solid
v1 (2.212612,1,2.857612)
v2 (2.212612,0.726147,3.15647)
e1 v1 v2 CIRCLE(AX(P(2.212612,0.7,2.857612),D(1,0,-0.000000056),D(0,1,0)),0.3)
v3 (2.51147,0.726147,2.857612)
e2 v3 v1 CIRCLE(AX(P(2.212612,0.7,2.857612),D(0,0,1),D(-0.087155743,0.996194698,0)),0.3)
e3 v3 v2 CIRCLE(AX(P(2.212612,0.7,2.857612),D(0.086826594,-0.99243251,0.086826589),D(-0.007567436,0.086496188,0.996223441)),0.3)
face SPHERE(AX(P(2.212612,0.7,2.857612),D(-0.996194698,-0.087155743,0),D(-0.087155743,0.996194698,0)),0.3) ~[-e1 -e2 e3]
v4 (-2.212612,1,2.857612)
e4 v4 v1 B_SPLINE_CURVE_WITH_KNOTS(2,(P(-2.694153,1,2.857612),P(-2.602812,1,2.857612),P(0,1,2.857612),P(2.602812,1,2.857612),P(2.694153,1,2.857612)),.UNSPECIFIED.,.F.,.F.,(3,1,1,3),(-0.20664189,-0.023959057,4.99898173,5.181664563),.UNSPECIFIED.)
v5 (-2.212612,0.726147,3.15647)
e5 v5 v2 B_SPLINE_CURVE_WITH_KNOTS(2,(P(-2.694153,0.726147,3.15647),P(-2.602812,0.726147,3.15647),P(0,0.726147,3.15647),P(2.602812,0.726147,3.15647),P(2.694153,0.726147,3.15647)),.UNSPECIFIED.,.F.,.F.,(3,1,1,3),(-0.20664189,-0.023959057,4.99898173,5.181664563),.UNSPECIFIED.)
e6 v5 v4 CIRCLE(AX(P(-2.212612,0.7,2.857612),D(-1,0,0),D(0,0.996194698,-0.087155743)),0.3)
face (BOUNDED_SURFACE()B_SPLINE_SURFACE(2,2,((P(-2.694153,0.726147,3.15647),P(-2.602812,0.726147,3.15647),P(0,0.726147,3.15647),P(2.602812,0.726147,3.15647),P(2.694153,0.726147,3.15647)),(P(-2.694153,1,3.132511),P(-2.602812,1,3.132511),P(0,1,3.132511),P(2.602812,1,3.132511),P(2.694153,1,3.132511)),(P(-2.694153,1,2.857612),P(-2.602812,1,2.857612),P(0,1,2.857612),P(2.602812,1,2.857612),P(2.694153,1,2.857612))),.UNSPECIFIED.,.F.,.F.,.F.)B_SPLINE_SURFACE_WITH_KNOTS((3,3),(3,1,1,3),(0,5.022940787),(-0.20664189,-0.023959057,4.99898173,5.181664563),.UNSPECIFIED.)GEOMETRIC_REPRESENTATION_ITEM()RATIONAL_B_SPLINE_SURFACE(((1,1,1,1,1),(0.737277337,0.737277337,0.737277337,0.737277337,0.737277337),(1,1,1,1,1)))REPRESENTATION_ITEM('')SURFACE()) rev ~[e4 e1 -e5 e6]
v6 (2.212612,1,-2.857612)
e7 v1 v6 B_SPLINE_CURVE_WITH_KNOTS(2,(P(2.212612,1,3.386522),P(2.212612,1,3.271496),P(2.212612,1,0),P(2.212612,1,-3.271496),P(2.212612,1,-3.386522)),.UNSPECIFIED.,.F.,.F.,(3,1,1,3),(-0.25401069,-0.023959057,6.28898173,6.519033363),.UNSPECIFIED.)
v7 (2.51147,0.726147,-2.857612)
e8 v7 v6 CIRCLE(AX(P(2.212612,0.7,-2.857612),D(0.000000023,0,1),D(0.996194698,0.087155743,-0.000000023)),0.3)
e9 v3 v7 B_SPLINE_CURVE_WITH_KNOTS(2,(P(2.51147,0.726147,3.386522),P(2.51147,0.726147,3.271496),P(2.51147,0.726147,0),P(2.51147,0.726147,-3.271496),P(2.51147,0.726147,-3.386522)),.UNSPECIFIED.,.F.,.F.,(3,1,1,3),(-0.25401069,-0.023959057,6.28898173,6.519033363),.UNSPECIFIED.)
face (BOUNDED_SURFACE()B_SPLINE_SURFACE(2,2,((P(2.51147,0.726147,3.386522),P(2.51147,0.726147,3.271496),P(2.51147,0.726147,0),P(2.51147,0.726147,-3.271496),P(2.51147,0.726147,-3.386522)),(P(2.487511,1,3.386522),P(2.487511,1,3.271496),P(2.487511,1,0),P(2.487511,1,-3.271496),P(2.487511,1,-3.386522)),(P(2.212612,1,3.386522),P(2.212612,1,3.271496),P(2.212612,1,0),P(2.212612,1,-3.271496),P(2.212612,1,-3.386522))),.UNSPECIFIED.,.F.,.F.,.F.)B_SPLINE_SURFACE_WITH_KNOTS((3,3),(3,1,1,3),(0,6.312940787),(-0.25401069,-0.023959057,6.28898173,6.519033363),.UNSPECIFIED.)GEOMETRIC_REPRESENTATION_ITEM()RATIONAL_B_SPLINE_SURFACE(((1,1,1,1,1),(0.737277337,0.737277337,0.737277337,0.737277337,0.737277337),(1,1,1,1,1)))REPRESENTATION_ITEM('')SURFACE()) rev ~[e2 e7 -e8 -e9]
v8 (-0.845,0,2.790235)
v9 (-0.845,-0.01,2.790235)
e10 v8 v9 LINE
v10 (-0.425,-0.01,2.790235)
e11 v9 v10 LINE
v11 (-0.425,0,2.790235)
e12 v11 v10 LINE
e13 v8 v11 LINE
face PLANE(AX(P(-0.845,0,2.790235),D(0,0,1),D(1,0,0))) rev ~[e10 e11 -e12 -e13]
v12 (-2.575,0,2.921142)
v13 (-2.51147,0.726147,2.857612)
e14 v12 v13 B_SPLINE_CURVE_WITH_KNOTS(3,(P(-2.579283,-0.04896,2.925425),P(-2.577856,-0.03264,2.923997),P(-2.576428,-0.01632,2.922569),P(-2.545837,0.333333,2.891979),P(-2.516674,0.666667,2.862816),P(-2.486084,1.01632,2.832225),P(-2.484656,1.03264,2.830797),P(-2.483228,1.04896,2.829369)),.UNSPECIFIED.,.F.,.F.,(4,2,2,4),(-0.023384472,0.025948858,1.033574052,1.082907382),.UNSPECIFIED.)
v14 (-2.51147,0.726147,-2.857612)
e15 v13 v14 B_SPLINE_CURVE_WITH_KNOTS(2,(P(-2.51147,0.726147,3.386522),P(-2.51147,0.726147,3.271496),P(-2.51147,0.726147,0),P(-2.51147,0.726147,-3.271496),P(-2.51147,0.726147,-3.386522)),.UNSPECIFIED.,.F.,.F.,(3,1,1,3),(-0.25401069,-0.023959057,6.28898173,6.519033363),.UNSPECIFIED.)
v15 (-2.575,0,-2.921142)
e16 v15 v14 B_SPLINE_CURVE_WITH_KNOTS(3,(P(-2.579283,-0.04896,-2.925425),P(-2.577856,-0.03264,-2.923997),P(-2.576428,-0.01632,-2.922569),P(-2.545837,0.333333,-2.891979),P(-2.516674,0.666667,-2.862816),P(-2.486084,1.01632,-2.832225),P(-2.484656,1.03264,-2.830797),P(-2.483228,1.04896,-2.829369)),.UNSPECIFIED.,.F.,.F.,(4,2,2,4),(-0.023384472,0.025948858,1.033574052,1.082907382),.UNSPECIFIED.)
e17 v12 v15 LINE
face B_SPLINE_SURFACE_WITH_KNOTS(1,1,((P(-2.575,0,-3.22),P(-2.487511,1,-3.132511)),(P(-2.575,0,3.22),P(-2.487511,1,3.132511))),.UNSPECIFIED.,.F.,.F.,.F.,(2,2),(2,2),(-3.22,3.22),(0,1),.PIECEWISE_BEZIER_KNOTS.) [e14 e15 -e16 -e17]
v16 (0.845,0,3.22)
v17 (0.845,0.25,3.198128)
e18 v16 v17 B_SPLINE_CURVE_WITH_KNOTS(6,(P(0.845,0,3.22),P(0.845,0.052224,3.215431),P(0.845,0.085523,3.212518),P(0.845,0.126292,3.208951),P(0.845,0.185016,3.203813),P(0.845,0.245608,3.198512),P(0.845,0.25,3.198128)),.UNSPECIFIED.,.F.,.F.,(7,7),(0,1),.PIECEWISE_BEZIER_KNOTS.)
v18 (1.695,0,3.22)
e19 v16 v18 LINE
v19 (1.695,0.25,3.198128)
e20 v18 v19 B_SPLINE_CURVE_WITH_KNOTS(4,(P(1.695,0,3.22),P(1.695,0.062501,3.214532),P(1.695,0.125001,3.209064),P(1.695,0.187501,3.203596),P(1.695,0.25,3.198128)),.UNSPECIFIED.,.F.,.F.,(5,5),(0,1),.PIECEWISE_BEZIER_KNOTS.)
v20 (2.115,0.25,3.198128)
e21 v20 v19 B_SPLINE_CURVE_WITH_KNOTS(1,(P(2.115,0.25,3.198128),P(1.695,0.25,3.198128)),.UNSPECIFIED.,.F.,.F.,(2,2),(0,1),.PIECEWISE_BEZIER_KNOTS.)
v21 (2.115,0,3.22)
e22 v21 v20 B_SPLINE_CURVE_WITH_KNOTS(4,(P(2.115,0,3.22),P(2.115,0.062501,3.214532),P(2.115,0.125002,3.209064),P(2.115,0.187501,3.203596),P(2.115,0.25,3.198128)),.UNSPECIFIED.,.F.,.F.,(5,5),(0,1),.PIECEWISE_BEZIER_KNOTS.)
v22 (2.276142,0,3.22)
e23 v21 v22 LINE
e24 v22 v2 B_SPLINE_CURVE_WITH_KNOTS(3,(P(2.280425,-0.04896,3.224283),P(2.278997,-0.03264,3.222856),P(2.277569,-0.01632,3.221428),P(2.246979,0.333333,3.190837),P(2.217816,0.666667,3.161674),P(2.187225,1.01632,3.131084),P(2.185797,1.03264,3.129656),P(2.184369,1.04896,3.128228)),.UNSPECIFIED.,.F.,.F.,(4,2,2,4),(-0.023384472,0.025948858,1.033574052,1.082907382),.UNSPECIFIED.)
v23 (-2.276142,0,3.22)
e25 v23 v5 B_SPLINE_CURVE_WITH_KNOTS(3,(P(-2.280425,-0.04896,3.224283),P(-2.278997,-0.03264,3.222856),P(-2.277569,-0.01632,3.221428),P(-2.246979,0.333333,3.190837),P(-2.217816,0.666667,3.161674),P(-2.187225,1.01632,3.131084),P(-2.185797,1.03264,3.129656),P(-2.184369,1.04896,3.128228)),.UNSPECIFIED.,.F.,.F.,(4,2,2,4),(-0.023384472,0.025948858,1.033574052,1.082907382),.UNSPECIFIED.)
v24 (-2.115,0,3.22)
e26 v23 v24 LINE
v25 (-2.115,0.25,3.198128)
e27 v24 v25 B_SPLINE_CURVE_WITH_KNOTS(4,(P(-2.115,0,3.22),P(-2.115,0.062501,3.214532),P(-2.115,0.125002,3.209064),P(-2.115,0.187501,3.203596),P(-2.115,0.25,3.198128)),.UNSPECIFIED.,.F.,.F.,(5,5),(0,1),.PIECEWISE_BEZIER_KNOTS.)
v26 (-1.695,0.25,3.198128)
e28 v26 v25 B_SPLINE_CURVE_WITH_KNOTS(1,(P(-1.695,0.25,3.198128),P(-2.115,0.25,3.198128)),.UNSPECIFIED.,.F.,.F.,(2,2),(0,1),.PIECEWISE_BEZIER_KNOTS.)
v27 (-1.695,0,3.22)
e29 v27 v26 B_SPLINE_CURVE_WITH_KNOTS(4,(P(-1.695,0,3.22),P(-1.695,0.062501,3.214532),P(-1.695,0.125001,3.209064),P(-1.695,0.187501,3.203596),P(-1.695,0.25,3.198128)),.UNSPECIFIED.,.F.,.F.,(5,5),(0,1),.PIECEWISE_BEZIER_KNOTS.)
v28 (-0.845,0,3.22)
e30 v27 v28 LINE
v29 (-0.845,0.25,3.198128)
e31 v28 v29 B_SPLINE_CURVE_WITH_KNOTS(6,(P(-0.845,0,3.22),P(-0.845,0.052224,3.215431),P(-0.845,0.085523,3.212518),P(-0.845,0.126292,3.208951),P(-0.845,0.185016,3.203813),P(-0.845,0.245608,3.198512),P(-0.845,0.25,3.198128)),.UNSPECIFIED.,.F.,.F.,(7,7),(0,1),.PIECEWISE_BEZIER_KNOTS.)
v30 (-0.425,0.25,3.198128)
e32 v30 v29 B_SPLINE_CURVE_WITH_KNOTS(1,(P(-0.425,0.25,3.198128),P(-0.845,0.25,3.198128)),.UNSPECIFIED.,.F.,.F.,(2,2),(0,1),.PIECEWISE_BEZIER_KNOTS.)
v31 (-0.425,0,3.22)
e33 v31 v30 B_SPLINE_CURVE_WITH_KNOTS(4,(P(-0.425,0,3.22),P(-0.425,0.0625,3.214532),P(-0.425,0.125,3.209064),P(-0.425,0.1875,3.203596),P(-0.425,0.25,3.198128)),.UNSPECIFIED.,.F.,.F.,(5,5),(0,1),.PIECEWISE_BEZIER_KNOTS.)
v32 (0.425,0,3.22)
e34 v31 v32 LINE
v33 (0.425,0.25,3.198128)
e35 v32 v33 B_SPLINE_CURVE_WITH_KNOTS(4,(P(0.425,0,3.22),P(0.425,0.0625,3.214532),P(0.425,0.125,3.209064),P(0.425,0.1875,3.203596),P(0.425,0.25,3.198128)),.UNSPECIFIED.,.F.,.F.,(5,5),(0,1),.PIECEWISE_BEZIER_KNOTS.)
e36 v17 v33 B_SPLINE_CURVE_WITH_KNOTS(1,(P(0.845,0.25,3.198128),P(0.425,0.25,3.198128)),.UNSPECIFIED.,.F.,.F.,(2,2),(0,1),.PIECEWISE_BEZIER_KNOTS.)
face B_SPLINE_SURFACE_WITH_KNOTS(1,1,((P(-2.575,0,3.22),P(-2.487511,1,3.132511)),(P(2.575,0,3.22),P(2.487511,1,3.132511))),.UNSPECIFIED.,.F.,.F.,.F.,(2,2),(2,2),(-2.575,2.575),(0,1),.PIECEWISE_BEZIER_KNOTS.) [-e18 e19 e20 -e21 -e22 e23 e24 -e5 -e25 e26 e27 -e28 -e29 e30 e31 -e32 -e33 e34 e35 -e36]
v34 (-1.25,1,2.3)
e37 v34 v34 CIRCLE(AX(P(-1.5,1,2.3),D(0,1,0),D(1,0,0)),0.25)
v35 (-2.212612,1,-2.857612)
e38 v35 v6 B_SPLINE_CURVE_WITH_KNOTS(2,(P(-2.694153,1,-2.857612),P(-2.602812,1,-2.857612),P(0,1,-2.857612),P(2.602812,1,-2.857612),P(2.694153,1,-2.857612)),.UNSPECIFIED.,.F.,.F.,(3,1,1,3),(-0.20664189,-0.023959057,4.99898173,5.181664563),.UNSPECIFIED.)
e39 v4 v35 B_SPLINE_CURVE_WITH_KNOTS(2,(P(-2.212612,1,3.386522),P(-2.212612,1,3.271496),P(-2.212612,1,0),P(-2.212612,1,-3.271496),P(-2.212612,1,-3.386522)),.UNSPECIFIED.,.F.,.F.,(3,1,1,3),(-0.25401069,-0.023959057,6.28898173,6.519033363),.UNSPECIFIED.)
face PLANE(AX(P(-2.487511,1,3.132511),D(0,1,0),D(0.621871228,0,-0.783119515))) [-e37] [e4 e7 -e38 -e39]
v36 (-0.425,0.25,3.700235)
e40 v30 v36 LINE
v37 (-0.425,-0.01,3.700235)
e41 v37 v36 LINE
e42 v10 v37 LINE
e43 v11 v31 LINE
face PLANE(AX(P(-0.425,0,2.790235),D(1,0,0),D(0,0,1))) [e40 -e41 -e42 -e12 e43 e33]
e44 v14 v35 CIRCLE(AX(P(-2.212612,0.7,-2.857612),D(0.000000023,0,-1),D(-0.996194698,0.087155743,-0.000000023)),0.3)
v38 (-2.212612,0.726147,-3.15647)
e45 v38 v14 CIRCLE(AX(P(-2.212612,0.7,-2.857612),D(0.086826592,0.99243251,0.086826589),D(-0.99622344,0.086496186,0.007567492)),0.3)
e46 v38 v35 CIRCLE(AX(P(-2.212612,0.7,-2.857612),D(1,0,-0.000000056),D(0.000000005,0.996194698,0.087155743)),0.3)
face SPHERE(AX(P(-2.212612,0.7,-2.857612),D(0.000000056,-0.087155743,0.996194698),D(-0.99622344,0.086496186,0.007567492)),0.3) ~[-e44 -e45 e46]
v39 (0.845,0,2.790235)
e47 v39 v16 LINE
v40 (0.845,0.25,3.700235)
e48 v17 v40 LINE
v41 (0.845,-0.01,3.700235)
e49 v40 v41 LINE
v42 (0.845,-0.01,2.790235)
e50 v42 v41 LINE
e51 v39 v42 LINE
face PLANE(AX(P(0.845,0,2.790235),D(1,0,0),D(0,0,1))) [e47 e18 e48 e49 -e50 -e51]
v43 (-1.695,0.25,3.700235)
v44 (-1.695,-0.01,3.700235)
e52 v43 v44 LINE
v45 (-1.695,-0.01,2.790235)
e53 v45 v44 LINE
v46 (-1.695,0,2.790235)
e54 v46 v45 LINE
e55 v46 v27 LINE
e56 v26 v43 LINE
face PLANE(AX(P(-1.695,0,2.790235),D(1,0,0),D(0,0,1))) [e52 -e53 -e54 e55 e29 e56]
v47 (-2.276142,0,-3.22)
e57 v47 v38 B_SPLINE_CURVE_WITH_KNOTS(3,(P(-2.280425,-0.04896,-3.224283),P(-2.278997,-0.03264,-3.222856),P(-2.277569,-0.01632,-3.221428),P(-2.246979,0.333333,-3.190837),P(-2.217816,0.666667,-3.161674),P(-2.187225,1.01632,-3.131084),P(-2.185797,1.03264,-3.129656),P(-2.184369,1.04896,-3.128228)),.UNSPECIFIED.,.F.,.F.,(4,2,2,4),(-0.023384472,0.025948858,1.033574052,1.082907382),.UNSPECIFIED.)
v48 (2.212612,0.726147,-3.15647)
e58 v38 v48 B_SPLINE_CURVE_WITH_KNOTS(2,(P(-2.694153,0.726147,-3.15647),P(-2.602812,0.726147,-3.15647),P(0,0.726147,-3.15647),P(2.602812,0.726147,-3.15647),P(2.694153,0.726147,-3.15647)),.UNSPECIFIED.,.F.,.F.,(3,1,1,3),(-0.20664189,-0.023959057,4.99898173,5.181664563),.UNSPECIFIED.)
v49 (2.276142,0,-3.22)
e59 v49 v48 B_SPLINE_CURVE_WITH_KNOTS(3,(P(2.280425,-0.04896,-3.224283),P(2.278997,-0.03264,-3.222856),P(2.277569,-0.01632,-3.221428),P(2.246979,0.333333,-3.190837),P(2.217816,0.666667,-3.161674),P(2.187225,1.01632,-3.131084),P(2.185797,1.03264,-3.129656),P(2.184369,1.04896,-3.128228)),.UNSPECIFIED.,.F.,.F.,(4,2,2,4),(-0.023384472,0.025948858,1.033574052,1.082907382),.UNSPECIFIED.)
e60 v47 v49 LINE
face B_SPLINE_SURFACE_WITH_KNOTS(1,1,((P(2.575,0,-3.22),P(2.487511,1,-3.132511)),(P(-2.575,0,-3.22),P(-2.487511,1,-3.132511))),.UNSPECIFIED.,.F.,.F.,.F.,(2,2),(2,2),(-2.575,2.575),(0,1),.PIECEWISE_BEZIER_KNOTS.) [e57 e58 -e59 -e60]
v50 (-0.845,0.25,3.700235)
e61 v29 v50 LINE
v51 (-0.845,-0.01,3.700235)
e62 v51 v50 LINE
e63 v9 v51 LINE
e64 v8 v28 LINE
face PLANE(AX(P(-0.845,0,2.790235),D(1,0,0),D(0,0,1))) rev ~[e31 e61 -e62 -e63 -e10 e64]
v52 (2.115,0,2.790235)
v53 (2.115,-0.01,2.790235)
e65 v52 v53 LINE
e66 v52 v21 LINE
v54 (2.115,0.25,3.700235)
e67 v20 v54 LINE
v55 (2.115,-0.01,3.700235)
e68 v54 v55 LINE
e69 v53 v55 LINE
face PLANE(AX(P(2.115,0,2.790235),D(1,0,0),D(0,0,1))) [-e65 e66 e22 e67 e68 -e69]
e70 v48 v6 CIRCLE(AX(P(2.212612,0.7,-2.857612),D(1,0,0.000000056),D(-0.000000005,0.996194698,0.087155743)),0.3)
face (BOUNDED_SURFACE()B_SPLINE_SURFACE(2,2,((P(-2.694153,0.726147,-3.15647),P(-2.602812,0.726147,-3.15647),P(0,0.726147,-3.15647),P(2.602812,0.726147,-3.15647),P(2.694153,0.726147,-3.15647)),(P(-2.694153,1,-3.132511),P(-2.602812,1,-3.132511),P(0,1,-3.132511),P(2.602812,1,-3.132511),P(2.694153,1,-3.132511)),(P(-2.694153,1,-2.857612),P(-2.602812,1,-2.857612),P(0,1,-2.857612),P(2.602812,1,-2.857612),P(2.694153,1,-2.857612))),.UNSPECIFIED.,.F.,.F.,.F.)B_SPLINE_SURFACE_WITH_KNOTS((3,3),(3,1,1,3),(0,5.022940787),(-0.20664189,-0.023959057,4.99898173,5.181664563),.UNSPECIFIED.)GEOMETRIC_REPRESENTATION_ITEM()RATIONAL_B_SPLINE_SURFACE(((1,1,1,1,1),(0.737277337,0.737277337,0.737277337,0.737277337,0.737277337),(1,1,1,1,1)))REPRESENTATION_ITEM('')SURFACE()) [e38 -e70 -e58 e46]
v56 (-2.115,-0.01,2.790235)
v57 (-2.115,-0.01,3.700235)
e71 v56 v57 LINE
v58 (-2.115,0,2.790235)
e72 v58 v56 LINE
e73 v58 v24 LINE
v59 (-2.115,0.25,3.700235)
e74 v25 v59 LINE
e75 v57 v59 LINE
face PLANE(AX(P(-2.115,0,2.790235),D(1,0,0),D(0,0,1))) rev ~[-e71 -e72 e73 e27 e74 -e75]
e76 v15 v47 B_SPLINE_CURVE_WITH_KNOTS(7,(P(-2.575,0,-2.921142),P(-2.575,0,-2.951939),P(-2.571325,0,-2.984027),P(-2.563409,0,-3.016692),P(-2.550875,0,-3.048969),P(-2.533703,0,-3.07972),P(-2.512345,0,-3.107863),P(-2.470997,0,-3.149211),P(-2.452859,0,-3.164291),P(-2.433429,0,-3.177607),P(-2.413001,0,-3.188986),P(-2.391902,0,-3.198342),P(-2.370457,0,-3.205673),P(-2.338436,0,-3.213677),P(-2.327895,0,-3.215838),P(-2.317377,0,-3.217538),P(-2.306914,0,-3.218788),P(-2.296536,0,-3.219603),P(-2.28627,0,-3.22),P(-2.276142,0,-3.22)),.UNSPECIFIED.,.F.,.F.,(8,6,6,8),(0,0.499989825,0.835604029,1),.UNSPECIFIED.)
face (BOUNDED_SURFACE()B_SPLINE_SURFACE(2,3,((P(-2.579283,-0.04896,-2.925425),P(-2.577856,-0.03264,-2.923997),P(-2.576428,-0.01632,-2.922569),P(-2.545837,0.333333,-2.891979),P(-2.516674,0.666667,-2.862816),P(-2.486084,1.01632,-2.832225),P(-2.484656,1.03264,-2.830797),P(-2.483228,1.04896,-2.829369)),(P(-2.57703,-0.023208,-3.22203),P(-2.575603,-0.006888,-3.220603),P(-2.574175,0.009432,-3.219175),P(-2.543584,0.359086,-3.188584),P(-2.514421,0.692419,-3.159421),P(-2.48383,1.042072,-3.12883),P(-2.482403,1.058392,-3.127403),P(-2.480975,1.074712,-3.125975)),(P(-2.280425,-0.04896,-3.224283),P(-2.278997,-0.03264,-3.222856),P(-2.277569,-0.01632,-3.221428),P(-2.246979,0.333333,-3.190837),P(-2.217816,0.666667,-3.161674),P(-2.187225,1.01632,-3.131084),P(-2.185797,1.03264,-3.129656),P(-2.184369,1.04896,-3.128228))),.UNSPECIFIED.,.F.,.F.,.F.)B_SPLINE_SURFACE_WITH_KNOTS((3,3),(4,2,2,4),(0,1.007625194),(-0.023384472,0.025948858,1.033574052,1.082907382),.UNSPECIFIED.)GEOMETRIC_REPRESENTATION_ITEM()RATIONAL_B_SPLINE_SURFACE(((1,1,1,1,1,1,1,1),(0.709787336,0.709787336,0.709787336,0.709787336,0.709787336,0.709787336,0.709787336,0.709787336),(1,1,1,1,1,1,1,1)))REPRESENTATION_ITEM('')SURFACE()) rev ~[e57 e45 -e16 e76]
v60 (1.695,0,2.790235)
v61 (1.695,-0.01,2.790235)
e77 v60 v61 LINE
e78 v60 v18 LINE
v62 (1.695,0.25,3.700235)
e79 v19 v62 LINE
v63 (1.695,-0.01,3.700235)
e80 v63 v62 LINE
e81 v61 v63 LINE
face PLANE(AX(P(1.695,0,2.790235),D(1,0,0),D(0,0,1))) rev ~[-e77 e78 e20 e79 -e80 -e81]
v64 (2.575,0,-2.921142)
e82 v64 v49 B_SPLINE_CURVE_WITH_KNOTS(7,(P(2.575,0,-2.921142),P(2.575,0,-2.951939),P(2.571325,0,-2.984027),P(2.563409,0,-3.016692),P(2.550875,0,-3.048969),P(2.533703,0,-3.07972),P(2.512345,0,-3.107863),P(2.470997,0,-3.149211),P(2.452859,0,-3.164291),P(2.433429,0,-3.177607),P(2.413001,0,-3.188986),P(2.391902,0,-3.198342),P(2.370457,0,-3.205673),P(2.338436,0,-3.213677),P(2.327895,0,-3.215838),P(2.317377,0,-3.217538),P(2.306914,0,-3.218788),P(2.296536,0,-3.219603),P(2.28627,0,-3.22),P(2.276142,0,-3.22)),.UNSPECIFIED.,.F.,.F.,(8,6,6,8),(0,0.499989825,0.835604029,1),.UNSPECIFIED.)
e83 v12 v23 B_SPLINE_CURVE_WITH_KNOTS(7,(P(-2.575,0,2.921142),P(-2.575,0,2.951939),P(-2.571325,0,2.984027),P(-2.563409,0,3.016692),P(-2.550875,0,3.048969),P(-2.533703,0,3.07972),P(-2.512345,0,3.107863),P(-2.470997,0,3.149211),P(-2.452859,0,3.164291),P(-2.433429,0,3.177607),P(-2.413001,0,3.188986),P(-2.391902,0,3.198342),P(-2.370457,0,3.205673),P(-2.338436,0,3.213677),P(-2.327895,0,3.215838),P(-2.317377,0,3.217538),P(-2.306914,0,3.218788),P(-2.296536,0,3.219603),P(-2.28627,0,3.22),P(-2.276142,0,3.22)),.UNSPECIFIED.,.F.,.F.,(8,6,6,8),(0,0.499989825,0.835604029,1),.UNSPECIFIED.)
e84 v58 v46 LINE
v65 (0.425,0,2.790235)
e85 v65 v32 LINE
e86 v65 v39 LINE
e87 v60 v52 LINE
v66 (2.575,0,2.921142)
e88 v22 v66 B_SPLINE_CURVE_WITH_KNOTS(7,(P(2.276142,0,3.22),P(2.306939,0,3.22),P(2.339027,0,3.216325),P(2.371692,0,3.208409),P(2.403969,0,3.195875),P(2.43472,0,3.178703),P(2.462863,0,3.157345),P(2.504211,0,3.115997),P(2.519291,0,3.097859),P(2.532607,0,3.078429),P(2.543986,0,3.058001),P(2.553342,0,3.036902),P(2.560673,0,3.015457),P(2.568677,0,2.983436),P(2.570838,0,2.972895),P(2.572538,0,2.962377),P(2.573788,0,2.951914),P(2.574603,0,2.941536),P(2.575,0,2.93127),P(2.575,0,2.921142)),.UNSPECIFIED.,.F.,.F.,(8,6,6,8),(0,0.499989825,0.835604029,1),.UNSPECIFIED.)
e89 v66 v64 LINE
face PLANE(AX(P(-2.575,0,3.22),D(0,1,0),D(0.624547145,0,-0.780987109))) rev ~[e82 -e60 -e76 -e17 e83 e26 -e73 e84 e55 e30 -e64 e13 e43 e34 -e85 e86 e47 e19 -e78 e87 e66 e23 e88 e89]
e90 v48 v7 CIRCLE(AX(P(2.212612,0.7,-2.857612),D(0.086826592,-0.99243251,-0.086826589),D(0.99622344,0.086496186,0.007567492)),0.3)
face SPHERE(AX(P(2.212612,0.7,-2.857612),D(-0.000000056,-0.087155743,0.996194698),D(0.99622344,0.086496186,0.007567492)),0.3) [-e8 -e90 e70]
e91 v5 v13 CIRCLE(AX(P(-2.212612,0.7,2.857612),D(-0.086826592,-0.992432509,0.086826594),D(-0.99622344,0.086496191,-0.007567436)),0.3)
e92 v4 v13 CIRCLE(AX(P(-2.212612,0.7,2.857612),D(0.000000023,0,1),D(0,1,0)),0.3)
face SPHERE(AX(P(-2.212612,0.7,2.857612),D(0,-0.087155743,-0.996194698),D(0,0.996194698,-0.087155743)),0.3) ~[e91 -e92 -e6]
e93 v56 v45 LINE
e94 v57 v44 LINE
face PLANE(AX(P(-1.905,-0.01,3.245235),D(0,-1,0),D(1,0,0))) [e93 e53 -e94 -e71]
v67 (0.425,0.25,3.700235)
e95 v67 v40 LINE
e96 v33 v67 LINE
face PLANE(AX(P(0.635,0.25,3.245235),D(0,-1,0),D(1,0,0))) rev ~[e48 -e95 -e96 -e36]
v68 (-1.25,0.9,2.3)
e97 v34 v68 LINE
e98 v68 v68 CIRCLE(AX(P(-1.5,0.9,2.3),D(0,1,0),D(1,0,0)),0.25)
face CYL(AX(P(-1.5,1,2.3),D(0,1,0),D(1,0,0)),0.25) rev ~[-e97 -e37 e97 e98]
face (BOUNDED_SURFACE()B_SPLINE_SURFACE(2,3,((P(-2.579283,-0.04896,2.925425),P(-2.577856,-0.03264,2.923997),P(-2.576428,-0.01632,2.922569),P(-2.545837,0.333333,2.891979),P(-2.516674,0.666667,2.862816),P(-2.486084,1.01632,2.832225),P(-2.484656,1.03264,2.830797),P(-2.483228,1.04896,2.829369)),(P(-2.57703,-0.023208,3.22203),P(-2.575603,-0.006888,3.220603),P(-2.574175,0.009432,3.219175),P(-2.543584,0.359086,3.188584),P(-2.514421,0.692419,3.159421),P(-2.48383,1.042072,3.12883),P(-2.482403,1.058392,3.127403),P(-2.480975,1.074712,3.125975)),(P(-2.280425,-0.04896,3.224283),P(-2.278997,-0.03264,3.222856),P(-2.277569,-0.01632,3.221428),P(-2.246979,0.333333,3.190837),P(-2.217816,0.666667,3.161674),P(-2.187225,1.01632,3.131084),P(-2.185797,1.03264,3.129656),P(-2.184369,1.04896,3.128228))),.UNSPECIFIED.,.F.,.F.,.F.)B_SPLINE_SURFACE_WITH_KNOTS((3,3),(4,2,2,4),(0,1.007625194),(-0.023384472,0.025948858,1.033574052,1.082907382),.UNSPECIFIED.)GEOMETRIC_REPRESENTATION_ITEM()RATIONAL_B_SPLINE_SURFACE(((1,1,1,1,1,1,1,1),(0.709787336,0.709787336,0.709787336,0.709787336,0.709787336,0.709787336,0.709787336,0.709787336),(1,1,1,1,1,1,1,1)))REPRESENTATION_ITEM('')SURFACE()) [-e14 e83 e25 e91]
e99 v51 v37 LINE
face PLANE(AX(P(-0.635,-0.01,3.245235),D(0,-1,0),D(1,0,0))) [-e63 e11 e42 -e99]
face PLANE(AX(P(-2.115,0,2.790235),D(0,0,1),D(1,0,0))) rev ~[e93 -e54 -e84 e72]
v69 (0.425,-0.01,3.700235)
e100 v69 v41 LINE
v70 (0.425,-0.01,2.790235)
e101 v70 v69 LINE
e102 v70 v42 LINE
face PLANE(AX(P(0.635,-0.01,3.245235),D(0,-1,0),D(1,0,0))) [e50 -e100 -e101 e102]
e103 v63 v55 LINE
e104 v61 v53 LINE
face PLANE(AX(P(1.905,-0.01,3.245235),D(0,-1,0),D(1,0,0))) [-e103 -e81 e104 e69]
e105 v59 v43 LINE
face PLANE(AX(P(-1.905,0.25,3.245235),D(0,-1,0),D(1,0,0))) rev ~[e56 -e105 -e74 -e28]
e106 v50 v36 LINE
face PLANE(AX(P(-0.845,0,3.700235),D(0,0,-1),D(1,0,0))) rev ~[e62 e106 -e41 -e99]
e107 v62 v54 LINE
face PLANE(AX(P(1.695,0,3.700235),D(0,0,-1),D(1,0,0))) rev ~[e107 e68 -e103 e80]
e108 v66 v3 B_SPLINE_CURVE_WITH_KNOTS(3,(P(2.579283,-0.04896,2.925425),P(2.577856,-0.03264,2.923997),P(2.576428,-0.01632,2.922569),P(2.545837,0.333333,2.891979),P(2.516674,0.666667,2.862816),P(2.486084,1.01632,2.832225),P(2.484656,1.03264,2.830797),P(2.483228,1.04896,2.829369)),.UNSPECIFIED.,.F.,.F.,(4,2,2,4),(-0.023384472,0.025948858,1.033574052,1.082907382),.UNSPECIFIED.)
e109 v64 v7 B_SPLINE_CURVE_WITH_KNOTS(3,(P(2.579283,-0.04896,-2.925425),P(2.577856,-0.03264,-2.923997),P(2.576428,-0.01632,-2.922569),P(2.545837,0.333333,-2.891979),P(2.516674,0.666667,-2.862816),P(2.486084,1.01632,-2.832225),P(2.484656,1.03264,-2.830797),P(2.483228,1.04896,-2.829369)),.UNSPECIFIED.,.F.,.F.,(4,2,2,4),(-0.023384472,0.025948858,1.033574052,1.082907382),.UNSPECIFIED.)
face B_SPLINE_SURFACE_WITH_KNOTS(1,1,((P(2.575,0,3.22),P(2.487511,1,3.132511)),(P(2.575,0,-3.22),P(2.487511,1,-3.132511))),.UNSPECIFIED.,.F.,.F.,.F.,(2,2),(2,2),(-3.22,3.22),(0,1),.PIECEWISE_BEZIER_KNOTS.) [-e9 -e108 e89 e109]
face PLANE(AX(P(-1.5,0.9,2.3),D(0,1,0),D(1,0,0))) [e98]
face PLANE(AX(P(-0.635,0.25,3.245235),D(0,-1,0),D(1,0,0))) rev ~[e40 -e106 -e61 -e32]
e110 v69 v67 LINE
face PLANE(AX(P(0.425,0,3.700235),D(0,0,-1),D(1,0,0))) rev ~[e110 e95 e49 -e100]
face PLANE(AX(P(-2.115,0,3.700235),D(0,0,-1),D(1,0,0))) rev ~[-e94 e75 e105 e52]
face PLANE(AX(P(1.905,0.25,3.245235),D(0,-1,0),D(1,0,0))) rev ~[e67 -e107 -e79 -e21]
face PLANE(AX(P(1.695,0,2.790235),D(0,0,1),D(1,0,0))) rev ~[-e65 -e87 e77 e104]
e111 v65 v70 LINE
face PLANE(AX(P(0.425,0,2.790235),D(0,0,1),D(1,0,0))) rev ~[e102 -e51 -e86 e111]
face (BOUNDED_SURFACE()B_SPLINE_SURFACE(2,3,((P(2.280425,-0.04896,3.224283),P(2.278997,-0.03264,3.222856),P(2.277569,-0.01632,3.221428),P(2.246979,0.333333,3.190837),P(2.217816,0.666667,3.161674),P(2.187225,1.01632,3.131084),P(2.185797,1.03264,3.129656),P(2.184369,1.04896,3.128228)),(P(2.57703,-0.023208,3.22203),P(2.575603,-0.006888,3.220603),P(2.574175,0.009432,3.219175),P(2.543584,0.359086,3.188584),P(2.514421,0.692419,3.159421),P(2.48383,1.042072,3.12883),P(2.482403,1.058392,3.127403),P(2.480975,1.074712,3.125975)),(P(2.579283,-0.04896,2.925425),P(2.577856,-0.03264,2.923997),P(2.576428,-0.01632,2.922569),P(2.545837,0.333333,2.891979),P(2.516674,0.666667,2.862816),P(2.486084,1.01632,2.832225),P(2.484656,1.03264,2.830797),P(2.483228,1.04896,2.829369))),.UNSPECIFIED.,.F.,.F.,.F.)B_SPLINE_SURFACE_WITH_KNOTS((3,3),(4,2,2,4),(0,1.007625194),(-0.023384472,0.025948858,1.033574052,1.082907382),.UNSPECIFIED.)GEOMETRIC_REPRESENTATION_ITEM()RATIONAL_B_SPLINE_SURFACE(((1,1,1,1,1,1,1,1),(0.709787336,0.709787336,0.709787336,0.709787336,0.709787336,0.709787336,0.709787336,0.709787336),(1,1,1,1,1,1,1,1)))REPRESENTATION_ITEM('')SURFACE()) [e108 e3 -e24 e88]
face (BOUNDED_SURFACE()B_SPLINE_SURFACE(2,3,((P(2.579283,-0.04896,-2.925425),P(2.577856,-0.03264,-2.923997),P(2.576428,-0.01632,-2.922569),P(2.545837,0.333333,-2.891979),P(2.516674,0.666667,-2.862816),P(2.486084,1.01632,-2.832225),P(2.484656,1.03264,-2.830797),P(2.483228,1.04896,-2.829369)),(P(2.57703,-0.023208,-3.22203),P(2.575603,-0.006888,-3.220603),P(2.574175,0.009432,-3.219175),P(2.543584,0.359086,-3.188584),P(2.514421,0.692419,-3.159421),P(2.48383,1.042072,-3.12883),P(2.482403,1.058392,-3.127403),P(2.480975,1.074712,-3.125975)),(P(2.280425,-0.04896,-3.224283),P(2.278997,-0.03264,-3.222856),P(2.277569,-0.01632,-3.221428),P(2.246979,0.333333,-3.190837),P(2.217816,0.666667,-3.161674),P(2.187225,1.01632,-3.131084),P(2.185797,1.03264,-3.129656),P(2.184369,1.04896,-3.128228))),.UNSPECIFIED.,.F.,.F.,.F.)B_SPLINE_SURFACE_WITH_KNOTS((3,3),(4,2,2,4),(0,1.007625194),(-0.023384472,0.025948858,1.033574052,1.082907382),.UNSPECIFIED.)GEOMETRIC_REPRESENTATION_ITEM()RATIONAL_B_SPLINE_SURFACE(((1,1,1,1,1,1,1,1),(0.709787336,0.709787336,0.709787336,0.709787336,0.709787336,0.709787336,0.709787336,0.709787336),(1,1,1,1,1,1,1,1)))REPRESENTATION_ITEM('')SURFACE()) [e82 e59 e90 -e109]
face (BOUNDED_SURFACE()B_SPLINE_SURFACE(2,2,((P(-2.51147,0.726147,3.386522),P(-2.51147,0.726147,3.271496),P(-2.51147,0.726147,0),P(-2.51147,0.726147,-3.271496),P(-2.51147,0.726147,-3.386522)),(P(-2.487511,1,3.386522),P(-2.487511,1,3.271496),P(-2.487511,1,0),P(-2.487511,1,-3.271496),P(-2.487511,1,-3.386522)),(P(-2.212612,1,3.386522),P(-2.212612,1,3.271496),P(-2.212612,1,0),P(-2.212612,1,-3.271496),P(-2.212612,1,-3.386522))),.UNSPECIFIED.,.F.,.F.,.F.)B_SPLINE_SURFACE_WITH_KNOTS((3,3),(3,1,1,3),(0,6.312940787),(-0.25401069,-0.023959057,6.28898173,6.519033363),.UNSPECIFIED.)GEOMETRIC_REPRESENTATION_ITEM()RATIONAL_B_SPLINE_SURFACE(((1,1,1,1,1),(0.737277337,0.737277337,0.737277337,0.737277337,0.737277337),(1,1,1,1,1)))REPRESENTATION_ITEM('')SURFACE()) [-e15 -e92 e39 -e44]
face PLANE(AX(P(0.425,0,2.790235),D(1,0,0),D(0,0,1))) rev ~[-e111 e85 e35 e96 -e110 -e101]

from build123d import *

# Parameters (mm, degrees)
SKETCH_1_W           = 5.15
SKETCH_1_H           = 6.44
EXTRUDE_1_DEPTH      = 1
EXTRUDE_1_TAPER      = 5
FILLET_1_R           = 0.3
SKETCH_2_R           = 0.25
CUT_EXTRUDE_1_DEPTH  = 0.1
SKETCH_3_W           = 0.42
SKETCH_3_H           = 0.91
EXTRUDE_2_DEPTH      = 0.01
EXTRUDE_2_DEPTH_BACK = 0.25


with BuildPart() as part:
    # Эскиз1 → Бобышка-Вытянуть1 (new body)
    with BuildSketch(Plane(origin=(0, 0, 0), x_dir=(1, 0, 0), z_dir=(0, 1, 0))):
        Rectangle(SKETCH_1_W, SKETCH_1_H)
    extrude(amount=EXTRUDE_1_DEPTH, taper=EXTRUDE_1_TAPER)

    # Скругление1
    fillet_1_edges = [part.edges().sort_by_distance(p)[0] for p in [
        (-2.487511336, 1, 0),
        (0, 1, 3.132511336),
        (2.487511336, 1, 0),
        (2.531255668, 0.5, 3.176255668),
        (-2.531255668, 0.5, 3.176255668),
        (-2.531255668, 0.5, -3.176255668),
        (2.531255668, 0.5, -3.176255668),
        (0, 1, -3.132511336),
    ]]
    fillet(fillet_1_edges, radius=FILLET_1_R)

    # Эскиз2 → Вырез-Вытянуть1 (cut)
    with BuildSketch(Plane(origin=(0, 1, 0), x_dir=(1, 0, 0), z_dir=(0, 1, 0))):
        with Locations((-1.5, -2.3)):
            Circle(SKETCH_2_R)
    extrude(amount=-CUT_EXTRUDE_1_DEPTH, mode=Mode.SUBTRACT)

    # Эскиз3 → Бобышка-Вытянуть2 (add, two sides)
    with BuildSketch(Plane.XZ) as extrude_2_sk:
        with Locations((-0.635, 3.245234577)):
            Rectangle(SKETCH_3_W, SKETCH_3_H)
        with Locations((1.905, 3.245234577)):
            Rectangle(SKETCH_3_W, SKETCH_3_H)
        with Locations((0.635, 3.245234577)):
            Rectangle(SKETCH_3_W, SKETCH_3_H)
        with Locations((-1.905, 3.245234577)):
            Rectangle(SKETCH_3_W, SKETCH_3_H)
    extrude(amount=EXTRUDE_2_DEPTH)
    extrude(extrude_2_sk.sketch, amount=-EXTRUDE_2_DEPTH_BACK)


solid = part.part
